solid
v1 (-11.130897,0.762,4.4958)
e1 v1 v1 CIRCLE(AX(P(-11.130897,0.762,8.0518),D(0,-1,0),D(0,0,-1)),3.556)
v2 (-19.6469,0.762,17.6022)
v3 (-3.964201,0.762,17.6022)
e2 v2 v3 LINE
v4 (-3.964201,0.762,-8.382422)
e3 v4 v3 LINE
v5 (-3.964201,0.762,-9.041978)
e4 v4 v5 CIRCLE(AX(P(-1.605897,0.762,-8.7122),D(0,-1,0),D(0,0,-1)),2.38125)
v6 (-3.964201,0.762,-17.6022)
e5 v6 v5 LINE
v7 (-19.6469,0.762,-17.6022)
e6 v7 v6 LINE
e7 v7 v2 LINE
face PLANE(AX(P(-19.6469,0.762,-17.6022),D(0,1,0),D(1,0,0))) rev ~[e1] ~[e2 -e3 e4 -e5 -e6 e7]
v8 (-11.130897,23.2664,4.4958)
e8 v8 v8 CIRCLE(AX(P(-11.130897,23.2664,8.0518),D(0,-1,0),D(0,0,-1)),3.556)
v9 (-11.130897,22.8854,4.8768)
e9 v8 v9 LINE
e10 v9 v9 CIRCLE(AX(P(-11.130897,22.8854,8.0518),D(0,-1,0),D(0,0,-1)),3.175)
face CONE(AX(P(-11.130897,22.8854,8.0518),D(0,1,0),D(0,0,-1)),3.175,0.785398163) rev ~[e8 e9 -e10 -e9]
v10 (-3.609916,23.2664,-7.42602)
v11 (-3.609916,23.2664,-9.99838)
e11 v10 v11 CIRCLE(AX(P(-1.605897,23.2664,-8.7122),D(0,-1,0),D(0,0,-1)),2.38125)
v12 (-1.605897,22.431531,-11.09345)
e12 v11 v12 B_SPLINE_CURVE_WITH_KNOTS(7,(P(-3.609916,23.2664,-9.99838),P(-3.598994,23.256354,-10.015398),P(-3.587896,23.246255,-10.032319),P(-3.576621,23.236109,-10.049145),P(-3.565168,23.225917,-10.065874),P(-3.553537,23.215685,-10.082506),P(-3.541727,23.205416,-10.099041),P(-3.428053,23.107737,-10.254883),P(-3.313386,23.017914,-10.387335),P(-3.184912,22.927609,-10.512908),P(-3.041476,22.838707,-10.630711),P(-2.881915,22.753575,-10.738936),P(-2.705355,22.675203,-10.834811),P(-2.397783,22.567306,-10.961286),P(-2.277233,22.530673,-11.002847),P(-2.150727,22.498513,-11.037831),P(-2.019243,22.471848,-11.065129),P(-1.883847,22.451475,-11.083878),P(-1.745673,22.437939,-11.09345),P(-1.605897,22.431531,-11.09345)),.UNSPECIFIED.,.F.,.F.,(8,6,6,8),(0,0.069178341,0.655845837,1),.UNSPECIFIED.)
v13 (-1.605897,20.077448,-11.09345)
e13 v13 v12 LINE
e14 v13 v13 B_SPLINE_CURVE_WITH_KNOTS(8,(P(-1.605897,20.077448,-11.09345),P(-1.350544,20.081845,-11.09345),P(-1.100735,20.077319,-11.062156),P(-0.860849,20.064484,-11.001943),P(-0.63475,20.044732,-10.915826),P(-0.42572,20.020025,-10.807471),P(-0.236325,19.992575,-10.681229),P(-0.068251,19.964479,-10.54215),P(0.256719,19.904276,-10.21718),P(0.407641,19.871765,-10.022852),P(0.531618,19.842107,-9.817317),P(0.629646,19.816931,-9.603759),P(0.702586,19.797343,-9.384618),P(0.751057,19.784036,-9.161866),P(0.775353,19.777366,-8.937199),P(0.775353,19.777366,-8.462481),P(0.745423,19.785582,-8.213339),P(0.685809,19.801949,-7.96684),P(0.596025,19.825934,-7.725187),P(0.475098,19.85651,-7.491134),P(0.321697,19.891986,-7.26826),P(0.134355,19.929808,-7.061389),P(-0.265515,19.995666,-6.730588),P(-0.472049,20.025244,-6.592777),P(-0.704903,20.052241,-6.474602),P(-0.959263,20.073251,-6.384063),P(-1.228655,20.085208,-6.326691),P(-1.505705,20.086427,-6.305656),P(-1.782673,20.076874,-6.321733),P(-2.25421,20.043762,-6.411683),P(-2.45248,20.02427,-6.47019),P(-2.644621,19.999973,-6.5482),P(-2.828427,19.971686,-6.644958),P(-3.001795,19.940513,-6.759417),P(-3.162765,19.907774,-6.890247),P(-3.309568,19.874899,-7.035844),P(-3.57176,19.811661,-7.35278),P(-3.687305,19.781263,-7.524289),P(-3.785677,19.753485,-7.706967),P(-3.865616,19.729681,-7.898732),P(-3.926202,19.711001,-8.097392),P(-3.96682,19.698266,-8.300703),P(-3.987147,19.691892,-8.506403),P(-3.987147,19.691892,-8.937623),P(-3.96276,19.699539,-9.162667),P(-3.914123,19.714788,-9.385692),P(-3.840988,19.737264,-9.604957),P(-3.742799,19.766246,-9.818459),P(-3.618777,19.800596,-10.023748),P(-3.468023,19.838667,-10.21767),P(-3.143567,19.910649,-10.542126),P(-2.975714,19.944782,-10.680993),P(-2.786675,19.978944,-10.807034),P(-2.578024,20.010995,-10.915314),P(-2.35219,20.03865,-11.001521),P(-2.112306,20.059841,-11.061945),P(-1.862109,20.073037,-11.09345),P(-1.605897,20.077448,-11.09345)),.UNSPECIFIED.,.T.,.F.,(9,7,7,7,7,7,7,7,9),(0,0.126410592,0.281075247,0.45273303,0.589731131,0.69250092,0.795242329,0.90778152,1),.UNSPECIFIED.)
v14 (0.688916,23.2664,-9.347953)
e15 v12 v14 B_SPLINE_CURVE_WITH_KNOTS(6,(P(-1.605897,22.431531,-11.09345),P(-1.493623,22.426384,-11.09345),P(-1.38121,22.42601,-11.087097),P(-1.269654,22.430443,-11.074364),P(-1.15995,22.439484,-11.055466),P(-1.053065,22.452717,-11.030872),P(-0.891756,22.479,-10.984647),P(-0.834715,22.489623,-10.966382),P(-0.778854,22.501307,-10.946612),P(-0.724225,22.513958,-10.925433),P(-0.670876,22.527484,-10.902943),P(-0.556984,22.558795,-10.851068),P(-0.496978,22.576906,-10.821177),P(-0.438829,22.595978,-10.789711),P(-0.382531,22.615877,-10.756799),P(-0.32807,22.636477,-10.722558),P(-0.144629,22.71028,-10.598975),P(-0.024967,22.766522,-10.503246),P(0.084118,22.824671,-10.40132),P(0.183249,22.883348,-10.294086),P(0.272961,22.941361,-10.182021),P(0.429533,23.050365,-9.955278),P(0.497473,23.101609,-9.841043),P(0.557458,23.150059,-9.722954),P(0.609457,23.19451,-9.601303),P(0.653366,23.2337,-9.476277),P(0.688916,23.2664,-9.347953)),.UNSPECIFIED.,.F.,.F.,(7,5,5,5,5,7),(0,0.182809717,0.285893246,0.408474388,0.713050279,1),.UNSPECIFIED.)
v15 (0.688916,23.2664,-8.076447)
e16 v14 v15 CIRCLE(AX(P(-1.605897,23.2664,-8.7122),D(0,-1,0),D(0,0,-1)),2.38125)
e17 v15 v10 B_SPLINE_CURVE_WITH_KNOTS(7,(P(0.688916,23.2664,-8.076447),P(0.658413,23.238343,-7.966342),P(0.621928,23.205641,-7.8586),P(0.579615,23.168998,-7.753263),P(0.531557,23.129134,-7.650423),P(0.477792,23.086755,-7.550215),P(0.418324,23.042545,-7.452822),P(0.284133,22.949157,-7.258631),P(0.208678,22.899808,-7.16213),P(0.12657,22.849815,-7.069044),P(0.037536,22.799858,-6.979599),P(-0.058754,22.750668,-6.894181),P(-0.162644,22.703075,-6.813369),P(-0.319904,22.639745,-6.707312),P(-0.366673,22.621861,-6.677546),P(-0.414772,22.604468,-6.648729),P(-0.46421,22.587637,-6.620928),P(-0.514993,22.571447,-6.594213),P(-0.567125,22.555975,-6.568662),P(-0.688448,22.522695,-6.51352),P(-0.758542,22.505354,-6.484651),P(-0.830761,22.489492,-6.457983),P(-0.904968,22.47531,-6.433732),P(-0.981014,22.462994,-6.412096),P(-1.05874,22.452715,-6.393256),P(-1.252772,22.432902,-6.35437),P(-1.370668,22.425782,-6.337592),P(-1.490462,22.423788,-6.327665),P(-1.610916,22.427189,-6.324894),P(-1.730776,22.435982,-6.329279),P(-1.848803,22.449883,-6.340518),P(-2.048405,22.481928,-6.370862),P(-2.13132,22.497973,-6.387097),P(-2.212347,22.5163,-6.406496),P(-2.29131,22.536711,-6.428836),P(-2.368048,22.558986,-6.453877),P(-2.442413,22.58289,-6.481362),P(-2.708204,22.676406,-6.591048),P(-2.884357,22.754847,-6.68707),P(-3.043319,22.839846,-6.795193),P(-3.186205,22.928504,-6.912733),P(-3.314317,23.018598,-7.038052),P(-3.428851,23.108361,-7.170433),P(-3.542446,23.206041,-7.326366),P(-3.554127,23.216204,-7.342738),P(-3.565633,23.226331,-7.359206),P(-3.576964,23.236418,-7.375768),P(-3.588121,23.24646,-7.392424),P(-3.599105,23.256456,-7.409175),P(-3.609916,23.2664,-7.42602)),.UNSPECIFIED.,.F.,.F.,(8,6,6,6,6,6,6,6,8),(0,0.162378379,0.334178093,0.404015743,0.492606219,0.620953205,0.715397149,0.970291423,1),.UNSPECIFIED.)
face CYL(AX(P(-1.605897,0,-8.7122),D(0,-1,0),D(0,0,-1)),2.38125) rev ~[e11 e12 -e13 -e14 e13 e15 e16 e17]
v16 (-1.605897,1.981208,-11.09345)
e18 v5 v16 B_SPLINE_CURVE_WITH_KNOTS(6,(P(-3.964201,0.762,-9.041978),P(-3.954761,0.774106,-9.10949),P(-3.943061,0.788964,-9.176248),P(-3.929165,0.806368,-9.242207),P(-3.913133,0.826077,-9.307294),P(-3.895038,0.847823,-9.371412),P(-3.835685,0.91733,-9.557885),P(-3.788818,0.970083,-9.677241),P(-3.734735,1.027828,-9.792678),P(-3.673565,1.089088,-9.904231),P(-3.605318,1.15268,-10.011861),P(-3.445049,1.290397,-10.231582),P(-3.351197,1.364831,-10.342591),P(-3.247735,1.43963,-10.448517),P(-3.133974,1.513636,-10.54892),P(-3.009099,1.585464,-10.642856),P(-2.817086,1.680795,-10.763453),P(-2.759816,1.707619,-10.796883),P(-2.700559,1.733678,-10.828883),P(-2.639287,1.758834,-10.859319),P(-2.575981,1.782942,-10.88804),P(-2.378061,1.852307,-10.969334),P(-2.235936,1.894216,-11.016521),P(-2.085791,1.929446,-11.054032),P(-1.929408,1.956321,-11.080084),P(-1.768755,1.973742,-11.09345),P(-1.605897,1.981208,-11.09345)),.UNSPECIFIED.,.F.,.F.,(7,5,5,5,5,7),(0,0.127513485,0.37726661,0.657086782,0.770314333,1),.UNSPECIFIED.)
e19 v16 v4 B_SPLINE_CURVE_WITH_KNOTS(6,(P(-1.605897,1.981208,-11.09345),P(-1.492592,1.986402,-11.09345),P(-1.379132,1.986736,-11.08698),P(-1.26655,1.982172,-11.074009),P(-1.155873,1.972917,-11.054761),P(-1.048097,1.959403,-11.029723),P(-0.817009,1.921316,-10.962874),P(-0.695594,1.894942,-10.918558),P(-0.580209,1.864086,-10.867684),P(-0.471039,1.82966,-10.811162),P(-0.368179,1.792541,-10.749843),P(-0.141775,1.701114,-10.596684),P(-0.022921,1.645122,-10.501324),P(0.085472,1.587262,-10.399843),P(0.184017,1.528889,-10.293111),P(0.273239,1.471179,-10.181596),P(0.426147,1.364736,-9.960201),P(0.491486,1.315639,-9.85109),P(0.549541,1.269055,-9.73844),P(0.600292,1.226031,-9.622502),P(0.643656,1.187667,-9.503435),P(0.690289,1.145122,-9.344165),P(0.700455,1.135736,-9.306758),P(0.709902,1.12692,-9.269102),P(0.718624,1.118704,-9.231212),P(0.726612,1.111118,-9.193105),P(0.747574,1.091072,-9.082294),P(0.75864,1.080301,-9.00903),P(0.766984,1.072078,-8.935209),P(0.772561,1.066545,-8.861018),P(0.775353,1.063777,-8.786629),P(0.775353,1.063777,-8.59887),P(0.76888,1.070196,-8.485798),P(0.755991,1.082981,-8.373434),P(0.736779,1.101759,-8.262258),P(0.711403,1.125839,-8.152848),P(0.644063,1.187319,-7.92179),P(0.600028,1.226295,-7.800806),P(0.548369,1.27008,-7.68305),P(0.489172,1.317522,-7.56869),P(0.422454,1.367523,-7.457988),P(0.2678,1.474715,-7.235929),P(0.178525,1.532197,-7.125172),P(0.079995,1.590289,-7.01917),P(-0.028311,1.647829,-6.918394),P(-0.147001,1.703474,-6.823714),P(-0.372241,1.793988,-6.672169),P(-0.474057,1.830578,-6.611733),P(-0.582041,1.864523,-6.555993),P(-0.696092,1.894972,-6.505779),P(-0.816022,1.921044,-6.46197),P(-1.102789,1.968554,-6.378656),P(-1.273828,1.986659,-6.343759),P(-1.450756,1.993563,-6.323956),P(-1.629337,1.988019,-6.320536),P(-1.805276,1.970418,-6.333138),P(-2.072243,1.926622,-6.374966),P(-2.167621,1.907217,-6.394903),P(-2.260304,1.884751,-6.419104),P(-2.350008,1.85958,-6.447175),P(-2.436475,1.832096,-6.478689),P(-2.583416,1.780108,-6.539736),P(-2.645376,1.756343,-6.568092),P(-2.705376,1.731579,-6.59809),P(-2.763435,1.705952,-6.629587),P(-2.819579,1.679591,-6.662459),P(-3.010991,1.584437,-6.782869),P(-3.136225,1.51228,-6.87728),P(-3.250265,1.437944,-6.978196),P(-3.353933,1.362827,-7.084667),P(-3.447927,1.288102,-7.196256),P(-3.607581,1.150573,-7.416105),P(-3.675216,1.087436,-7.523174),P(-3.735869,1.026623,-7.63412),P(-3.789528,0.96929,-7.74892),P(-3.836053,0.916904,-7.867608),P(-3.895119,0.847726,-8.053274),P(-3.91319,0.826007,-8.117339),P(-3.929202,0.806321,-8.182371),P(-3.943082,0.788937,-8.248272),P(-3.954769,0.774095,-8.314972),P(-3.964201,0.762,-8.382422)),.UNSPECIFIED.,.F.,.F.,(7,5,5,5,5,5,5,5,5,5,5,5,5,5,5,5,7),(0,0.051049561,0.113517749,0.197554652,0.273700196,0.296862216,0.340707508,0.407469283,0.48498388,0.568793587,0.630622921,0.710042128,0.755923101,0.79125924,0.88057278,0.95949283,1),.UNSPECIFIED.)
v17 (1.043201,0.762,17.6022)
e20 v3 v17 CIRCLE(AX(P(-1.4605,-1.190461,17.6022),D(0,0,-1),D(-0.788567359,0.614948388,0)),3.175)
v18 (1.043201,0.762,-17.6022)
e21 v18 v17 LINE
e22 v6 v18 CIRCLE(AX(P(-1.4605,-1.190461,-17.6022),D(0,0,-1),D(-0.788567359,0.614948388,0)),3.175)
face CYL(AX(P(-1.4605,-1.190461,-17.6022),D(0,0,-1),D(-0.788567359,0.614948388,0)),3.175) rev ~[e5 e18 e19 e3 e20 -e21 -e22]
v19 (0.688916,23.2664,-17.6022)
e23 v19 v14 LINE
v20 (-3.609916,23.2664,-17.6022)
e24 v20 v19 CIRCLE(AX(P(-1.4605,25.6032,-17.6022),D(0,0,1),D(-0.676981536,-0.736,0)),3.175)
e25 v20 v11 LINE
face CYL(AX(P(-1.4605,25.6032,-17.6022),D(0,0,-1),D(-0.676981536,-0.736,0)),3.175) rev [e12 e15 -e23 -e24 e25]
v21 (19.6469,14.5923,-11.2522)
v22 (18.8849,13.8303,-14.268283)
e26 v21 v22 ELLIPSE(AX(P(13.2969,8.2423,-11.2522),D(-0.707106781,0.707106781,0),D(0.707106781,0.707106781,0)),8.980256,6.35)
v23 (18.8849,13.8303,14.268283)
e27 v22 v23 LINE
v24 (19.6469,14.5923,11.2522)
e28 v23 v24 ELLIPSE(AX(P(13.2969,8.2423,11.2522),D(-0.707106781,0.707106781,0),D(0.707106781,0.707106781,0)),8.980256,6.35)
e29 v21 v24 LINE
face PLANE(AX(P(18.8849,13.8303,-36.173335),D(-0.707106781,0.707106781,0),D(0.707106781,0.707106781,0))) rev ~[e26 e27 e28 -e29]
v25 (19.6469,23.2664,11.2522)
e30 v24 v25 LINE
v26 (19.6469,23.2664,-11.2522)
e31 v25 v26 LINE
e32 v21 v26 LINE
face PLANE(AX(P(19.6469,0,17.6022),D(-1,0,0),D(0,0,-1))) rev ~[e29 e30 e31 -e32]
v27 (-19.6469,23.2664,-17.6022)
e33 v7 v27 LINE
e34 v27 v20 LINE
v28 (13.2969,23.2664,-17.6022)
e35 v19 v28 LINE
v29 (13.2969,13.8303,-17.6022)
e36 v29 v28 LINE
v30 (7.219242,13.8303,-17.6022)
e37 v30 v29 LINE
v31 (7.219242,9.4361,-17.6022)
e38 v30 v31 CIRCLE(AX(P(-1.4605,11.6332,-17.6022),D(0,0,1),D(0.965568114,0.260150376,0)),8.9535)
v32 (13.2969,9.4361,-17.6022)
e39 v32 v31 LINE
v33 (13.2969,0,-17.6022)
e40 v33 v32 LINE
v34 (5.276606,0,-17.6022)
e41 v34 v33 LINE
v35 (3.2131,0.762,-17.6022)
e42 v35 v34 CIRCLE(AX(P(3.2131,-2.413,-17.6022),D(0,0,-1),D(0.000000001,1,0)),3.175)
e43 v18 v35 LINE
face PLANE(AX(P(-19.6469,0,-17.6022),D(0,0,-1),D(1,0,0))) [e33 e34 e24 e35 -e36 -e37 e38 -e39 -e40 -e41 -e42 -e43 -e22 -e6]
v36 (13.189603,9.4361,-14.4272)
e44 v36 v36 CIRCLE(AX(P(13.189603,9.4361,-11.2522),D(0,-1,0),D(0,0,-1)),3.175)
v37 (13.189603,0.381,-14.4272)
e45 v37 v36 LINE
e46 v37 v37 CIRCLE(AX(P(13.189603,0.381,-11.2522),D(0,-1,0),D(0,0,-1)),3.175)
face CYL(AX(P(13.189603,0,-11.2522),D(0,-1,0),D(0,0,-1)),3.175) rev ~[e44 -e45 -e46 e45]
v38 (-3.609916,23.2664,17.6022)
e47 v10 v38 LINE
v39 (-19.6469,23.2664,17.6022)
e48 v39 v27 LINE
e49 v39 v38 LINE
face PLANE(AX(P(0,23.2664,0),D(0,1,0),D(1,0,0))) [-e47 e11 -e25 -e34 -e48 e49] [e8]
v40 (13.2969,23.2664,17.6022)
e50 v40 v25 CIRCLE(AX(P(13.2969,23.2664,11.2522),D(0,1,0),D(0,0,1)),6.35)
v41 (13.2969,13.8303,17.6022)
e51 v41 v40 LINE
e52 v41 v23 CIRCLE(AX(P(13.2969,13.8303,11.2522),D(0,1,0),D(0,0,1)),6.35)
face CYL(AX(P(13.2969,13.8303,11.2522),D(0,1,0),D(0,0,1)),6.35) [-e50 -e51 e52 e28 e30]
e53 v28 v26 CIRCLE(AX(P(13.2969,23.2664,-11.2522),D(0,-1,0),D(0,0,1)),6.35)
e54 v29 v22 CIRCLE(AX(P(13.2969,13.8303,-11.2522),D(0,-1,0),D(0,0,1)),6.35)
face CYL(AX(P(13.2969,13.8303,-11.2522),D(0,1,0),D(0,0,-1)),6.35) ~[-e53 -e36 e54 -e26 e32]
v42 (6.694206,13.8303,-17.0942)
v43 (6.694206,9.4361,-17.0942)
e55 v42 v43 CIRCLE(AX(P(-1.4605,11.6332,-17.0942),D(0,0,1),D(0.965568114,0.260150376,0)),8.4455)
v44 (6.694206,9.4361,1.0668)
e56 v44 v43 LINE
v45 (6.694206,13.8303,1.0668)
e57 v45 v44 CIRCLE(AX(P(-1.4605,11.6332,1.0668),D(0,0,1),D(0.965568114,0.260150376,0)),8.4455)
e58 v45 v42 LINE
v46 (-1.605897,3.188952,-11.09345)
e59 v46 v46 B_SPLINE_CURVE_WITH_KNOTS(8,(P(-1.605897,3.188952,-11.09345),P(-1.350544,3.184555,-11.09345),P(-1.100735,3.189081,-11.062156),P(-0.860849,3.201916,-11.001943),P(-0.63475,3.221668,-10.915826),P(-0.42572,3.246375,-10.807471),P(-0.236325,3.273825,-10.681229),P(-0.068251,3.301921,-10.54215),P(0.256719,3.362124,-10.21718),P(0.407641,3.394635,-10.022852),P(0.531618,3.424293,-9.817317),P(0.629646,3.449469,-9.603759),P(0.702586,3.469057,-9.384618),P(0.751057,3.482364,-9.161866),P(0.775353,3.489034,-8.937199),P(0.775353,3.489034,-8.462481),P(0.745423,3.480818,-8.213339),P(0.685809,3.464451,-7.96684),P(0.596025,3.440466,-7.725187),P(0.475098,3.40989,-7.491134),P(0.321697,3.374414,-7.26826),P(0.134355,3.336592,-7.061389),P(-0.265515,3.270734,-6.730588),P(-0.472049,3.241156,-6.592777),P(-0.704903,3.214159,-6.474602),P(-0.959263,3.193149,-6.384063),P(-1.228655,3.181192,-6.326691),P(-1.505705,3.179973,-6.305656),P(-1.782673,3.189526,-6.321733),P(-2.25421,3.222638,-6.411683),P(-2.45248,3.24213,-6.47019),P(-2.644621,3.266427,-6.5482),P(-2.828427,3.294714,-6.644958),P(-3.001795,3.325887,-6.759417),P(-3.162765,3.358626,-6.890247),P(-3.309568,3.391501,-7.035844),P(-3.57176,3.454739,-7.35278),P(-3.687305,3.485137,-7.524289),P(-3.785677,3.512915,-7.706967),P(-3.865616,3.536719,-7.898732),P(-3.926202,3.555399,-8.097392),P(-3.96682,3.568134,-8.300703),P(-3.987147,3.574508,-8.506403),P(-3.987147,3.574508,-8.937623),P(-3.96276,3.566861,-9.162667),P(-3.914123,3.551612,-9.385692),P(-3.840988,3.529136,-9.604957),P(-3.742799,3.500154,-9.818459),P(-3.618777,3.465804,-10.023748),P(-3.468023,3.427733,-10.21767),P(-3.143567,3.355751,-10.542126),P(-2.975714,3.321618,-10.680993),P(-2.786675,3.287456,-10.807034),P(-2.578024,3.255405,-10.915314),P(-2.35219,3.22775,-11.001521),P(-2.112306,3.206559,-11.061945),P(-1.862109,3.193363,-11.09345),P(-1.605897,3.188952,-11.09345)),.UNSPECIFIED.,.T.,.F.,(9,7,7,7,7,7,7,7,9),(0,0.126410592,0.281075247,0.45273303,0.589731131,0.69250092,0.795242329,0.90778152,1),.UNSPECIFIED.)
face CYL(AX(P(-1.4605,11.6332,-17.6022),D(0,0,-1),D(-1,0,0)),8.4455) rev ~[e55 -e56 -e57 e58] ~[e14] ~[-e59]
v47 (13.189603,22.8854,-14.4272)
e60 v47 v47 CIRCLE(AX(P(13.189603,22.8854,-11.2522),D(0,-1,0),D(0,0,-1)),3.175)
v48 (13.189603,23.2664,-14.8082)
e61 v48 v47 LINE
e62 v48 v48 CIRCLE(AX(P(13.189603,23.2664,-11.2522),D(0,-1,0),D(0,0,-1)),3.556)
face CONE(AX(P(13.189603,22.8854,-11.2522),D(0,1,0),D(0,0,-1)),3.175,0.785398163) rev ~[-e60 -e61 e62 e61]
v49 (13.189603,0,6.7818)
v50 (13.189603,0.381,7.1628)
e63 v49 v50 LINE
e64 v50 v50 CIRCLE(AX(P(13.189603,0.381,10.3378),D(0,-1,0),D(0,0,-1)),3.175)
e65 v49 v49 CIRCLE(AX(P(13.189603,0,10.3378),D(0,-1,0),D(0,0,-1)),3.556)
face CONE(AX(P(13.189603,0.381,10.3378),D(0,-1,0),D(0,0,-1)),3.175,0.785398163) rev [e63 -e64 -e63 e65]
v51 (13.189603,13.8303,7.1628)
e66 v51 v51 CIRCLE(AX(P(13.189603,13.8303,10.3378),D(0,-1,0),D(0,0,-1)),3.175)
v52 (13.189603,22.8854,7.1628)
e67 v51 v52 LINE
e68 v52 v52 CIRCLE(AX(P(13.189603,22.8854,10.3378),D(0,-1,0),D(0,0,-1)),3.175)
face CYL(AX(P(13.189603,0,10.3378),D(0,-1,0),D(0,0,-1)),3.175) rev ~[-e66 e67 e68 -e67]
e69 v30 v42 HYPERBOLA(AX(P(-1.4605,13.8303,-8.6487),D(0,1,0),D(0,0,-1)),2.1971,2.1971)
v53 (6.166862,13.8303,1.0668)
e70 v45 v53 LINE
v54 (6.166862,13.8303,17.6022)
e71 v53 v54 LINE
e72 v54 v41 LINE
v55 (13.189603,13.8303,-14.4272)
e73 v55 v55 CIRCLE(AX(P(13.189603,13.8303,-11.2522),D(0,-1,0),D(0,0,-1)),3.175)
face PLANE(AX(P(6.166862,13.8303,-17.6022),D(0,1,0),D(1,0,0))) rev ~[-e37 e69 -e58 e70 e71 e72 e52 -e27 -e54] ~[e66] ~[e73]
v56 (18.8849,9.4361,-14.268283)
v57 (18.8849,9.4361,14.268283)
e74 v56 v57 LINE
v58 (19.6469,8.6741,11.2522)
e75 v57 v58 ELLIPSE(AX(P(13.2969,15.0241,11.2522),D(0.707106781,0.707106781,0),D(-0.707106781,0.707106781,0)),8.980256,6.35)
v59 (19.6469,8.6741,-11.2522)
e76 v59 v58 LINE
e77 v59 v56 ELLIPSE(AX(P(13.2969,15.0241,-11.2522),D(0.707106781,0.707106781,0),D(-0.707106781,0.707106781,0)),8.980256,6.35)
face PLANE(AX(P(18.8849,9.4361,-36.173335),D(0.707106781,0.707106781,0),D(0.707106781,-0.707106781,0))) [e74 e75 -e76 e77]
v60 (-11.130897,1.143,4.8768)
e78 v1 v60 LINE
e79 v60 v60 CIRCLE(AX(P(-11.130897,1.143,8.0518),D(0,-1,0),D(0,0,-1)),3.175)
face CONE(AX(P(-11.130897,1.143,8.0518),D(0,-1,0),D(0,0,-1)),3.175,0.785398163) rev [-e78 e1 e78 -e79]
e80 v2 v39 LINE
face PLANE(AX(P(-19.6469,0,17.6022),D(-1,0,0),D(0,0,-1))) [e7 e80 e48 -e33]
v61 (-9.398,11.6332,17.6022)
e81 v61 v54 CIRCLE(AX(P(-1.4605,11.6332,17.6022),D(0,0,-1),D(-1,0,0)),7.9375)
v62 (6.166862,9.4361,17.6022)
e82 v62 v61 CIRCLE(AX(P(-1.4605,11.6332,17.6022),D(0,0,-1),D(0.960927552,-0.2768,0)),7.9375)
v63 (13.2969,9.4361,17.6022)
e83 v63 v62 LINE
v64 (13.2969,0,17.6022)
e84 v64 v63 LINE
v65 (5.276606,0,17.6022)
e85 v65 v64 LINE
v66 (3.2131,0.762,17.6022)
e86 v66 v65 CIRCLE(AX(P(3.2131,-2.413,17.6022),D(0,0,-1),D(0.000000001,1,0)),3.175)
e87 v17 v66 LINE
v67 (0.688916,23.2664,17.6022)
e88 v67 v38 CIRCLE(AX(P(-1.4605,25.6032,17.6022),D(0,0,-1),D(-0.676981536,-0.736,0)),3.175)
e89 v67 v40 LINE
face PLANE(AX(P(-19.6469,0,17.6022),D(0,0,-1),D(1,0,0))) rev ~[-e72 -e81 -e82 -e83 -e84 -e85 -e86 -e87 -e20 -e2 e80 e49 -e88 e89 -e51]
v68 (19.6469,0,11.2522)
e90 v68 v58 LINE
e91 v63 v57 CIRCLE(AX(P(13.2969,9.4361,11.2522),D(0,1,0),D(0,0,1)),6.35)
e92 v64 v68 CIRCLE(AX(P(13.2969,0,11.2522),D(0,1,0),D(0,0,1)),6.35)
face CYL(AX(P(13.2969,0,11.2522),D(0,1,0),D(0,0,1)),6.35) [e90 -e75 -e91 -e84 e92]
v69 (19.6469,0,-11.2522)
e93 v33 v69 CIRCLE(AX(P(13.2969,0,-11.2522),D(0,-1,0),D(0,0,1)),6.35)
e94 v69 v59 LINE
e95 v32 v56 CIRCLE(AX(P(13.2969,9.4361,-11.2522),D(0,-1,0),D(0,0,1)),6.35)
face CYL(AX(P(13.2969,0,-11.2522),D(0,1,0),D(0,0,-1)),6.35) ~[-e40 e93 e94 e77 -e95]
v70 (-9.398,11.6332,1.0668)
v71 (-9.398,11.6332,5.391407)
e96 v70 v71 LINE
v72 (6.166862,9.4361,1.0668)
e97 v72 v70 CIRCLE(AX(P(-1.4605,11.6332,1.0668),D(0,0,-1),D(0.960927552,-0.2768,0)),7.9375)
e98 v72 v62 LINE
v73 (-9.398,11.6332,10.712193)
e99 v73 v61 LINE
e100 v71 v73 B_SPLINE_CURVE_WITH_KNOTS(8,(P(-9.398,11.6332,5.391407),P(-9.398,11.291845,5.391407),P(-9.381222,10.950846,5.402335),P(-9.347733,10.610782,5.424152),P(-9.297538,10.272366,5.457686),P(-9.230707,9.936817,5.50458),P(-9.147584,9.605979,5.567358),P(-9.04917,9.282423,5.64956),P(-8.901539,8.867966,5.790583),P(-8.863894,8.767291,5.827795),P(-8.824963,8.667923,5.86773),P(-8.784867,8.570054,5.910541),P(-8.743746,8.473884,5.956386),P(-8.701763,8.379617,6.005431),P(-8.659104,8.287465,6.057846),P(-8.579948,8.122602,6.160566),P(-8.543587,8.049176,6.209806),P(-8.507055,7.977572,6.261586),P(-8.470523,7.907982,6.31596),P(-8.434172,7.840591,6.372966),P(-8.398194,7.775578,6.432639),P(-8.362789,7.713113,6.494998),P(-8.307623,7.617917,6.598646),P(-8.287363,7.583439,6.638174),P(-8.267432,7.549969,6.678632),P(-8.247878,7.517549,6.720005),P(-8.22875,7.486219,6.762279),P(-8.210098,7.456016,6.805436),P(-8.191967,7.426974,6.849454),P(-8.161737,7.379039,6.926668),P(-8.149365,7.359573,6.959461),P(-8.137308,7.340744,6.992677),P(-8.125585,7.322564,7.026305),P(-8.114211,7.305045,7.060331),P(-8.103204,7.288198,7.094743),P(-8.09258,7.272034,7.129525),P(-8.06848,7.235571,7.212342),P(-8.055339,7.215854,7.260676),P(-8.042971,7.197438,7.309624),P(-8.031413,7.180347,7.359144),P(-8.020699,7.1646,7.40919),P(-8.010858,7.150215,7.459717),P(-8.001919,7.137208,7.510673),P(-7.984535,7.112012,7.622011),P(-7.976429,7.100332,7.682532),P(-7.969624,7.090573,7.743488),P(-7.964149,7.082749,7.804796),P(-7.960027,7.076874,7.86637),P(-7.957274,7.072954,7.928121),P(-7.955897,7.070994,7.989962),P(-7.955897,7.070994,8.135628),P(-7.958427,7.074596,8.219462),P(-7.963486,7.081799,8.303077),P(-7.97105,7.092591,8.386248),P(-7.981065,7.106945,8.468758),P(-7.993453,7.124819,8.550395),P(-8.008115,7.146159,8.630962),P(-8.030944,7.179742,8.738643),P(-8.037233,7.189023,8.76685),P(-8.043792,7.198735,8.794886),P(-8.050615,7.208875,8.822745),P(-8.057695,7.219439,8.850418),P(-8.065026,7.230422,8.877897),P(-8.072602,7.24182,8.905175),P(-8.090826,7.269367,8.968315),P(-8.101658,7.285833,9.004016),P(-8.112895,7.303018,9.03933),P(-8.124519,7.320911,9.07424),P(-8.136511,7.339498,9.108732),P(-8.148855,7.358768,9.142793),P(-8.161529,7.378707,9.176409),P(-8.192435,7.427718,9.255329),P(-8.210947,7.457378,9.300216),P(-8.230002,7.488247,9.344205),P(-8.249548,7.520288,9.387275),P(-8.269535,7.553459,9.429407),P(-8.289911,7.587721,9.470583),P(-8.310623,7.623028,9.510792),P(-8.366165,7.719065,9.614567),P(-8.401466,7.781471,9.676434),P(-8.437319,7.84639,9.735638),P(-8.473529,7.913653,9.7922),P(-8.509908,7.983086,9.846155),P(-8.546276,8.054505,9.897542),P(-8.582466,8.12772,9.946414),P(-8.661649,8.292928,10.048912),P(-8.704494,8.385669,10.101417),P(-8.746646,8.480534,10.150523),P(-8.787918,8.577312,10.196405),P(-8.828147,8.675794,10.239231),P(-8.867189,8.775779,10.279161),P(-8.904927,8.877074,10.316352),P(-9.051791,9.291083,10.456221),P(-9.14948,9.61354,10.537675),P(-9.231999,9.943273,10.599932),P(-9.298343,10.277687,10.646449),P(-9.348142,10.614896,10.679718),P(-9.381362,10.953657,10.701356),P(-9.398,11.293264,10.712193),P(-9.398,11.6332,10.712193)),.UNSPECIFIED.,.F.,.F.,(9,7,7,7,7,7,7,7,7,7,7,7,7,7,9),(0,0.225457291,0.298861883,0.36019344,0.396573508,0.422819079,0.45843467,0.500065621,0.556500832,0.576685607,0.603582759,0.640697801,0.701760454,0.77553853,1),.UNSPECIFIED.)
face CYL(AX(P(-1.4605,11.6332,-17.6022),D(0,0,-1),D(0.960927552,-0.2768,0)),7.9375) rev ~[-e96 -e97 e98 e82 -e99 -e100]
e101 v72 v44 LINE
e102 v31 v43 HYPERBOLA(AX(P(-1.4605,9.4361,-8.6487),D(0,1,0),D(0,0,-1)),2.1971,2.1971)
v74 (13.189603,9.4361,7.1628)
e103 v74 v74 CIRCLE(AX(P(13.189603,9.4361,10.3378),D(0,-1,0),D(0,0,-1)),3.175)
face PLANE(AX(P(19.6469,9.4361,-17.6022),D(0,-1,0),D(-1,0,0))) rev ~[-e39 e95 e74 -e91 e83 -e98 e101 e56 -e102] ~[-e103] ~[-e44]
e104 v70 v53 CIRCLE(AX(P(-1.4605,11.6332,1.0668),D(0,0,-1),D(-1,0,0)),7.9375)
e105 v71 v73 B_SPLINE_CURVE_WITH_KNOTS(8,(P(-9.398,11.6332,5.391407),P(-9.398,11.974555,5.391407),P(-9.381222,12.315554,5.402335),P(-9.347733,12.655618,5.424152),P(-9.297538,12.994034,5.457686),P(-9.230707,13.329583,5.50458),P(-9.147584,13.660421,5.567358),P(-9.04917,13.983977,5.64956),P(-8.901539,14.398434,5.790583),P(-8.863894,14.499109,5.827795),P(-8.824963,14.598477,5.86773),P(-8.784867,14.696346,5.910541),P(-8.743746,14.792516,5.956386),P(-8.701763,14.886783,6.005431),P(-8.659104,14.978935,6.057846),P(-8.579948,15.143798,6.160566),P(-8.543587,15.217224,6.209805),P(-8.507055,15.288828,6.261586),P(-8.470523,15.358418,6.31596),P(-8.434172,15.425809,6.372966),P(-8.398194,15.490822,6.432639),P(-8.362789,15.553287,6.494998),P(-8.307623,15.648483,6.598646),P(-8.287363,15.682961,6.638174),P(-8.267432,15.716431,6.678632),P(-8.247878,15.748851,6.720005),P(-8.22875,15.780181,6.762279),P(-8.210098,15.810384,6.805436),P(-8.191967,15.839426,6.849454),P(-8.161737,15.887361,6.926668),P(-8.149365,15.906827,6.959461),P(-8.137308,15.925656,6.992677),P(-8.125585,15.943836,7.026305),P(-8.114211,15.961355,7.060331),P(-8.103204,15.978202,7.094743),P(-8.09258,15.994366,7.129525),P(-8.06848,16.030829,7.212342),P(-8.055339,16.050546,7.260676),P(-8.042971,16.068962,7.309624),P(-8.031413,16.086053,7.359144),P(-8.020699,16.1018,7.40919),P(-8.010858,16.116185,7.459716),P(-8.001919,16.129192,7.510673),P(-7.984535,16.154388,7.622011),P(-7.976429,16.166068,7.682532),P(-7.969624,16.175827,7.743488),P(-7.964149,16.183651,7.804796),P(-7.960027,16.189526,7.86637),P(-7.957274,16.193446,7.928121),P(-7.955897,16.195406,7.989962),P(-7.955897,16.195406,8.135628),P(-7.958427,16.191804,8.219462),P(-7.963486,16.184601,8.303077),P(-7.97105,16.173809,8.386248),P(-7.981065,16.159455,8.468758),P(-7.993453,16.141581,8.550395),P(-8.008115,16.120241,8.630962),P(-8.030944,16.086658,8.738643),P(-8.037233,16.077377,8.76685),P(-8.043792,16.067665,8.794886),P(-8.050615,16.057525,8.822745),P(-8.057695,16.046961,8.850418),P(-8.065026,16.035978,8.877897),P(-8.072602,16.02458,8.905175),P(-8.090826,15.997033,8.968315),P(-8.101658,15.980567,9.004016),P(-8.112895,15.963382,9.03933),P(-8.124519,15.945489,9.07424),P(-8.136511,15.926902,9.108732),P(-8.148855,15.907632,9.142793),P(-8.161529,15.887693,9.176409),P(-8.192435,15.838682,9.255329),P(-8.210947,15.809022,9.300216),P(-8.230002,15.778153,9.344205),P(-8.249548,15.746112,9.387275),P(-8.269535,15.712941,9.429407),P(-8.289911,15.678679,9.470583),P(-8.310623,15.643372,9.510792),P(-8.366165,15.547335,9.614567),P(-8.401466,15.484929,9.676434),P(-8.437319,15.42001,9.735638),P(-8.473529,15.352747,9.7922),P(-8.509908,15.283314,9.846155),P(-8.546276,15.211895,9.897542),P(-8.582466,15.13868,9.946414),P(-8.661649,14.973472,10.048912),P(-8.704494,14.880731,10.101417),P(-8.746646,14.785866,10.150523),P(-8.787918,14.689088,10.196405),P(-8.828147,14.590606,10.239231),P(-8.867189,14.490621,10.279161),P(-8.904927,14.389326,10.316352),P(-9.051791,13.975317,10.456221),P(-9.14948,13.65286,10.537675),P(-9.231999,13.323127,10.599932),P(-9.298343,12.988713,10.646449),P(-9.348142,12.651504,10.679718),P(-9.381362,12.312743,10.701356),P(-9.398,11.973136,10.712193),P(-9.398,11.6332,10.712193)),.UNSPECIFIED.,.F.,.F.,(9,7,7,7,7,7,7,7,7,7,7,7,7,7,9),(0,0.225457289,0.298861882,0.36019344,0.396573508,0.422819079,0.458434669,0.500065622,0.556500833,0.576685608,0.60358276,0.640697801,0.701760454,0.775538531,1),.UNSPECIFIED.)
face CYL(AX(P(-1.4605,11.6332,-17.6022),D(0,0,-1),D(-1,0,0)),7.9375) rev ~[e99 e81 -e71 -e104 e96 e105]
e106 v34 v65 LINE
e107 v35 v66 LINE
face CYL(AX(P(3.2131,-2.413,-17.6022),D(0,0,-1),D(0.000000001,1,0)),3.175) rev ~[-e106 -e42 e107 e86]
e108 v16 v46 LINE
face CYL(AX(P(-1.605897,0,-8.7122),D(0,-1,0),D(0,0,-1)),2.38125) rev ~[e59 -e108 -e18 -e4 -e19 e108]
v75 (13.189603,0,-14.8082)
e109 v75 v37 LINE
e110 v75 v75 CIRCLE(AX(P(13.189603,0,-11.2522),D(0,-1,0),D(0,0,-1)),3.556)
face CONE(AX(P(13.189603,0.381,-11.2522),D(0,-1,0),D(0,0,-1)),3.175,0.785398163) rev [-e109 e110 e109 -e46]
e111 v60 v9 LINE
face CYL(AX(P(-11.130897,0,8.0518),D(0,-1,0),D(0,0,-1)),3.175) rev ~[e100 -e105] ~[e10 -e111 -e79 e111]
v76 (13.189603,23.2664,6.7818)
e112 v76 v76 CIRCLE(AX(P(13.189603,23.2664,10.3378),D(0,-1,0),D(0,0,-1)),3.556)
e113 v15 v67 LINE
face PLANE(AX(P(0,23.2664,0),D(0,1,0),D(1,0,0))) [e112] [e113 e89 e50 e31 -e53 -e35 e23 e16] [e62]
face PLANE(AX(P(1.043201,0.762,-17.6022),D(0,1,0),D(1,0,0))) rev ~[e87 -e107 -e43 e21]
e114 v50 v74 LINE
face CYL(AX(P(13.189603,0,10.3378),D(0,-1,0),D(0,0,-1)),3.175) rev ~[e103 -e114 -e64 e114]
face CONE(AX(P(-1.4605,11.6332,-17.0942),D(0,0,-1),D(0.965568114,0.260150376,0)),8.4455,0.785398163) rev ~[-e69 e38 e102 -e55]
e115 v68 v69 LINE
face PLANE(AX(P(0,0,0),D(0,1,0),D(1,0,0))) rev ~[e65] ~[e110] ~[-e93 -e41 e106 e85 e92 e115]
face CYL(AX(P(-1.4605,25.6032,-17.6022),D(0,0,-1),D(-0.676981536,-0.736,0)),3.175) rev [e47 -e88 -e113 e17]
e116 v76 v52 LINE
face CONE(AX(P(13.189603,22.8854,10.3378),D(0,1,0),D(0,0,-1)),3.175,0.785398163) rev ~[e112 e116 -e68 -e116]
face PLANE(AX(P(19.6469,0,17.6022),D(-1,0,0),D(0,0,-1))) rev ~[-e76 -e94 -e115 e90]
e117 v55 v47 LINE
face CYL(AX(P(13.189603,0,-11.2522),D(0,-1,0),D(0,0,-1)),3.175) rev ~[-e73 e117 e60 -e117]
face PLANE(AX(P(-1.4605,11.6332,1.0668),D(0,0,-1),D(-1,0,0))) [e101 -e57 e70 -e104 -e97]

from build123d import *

# Parameters (mm, degrees)
SKETCH1_W               = 39.2938
SKETCH1_H               = 35.2044
BOSS_EXTRUDE1_DEPTH     = 23.2664
CUT_EXTRUDE1_DEPTH      = 47.54756522
SKETCH3_R               = 8.4455
CUT_EXTRUDE2_DEPTH      = 18.669
SKETCH4_R               = 3.175
SKETCH4_R_2             = 2.38125
CUT_EXTRUDE3_DEPTH      = 36.173334977
CUT_EXTRUDE4_DEPTH      = 47.547565346
CUT_EXTRUDE5_DEPTH      = 47.547565346
FILLET1_R               = 6.35
CHAMFER1_SIZE           = 0.508
CHAMFER2_SIZE           = 0.381
CUT_EXTRUDE6_DEPTH      = 36.173335093
CUT_EXTRUDE6_DEPTH_BACK = 36.173335093


with BuildPart() as part:
    # Sketch1 → Boss-Extrude1 (new body)
    with BuildSketch(Plane(origin=(0, 0, 0), x_dir=(1, 0, 0), z_dir=(0, 1, 0))):
        Rectangle(SKETCH1_W, SKETCH1_H)
    extrude(amount=BOSS_EXTRUDE1_DEPTH)

    # Sketch2 → Cut-Extrude1 (cut, through all)
    with BuildSketch(Plane(origin=(0, 0, -17.6022), x_dir=(-1, 0, 0), z_dir=(0, 0, -1))):
        with BuildLine():
            Line((-6.477, 11.6332), (-19.6469, 11.6332))
            Line((-19.6469, 11.6332), (-19.6469, 9.4361))
            Line((-19.6469, 9.4361), (-6.166862443, 9.4361))
            ThreePointArc((-6.166862443, 9.4361), (-6.399083184, 10.523759407), (-6.477, 11.6332))
        make_face()
        with BuildLine():
            Line((-19.6469, 13.8303), (-19.6469, 11.6332))
            Line((-19.6469, 11.6332), (-6.477, 11.6332))
            ThreePointArc((-6.477, 11.6332), (-6.399083184, 12.742640593), (-6.166862443, 13.8303))
            Line((-6.166862443, 13.8303), (-19.6469, 13.8303))
        make_face()
        with BuildLine():
            ThreePointArc((-6.166862443, 13.8303), (-6.399083184, 12.742640593), (-6.477, 11.6332))
            Line((-6.477, 11.6332), (9.398, 11.6332))
            ThreePointArc((9.398, 11.6332), (2.569940593, 19.492783184), (-6.166862443, 13.8303))
        make_face()
        with BuildLine():
            Line((9.398, 11.6332), (-6.477, 11.6332))
            ThreePointArc((-6.477, 11.6332), (-6.399083184, 10.523759407), (-6.166862443, 9.4361))
            ThreePointArc((-6.166862443, 9.4361), (2.569940593, 3.773616816), (9.398, 11.6332))
        make_face()
    extrude(amount=-CUT_EXTRUDE1_DEPTH, mode=Mode.SUBTRACT)

    # Sketch3 → Cut-Extrude2 (cut)
    with BuildSketch(Plane(origin=(0, 0, -17.6022), x_dir=(-1, 0, 0), z_dir=(0, 0, -1))):
        with Locations((1.4605, 11.6332)):
            Circle(SKETCH3_R)
    extrude(amount=-CUT_EXTRUDE2_DEPTH, mode=Mode.SUBTRACT)

    # Sketch4 → Cut-Extrude3 (cut, through all)
    with BuildSketch(Plane.XZ):
        with Locations(Location((13.189602751, -11.2522, 0), (0, 0, 270))):
            Circle(SKETCH4_R)
        with Locations(Location((13.189602751, 10.3378, 0), (0, 0, 270))):
            Circle(SKETCH4_R)
        with Locations(Location((-1.605897249, -8.7122, 0), (0, 0, 270))):
            Circle(SKETCH4_R_2)
        with Locations(Location((-11.130897249, 8.0518, 0), (0, 0, 270))):
            Circle(SKETCH4_R)
    extrude(amount=-CUT_EXTRUDE3_DEPTH, mode=Mode.SUBTRACT)

    # Sketch5 → Cut-Extrude4 (cut, through all)
    with BuildSketch(Plane(origin=(0, 0, -17.6022), x_dir=(-1, 0, 0), z_dir=(0, 0, -1))):
        with BuildLine():
            Line((-0.688916377, 23.2664), (3.609916377, 23.2664))
            ThreePointArc((3.609916377, 23.2664), (1.4605, 22.4282), (-0.688916377, 23.2664))
        make_face()
    extrude(amount=-CUT_EXTRUDE4_DEPTH, mode=Mode.SUBTRACT)

    # Sketch7 → Cut-Extrude5 (cut, through all)
    with BuildSketch(Plane(origin=(0, 0, -17.6022), x_dir=(-1, 0, 0), z_dir=(0, 0, -1))):
        with BuildLine():
            Line((-1.043201365, 0.762), (3.964201365, 0.762))
            ThreePointArc((3.964201365, 0.762), (1.4605, 1.984538867), (-1.043201365, 0.762))
        make_face()
        with BuildLine():
            Line((19.6469, 0), (19.6469, 0.762))
            Line((19.6469, 0.762), (3.964201365, 0.762))
            Line((3.964201365, 0.762), (-1.043201365, 0.762))
            Line((-1.043201365, 0.762), (-3.2131, 0.762))
            ThreePointArc((-3.2131, 0.762), (-4.312952263, 0.565414007), (-5.276605755, 0))
            Line((-5.276605755, 0), (19.6469, 0))
        make_face()
    extrude(amount=-CUT_EXTRUDE5_DEPTH, mode=Mode.SUBTRACT)

    # Fillet1
    fillet1_edges = [part.edges().sort_by_distance(p)[0] for p in [
        (19.6469, 4.71805, -17.6022),
        (19.6469, 4.71805, 17.6022),
        (19.6469, 18.54835, -17.6022),
        (19.6469, 18.54835, 17.6022),
    ]]
    fillet(fillet1_edges, radius=FILLET1_R)

    # Chamfer1
    chamfer1_edges = [part.edges().sort_by_distance(p)[0] for p in [
        (-9.906, 11.6332, -17.6022),
    ]]
    chamfer(chamfer1_edges, length=CHAMFER1_SIZE)

    # Chamfer2
    chamfer2_edges = [part.edges().sort_by_distance(p)[0] for p in [
        (-11.130897249, 0.762, 11.2268),
        (-11.130897249, 23.2664, 11.2268),
        (13.189602751, 23.2664, 13.5128),
        (13.189602751, 0, 13.5128),
        (13.189602751, 23.2664, -8.0772),
        (13.189602751, 0, -8.0772),
    ]]
    chamfer(chamfer2_edges, length=CHAMFER2_SIZE)

    # Sketch8 → Cut-Extrude6 (cut, two sides: drawn at the far end of the back side and taken through both)
    with BuildSketch(Plane.XY.offset(-CUT_EXTRUDE6_DEPTH_BACK)):
        Polygon((18.8849, 13.8303), (19.6469, 14.5923), (19.6469, 13.8303), align=None)
        Polygon((18.8849, 9.4361), (19.6469, 8.6741), (19.6469, 9.4361), align=None)
    extrude(amount=CUT_EXTRUDE6_DEPTH + CUT_EXTRUDE6_DEPTH_BACK, mode=Mode.SUBTRACT)


solid = part.part
